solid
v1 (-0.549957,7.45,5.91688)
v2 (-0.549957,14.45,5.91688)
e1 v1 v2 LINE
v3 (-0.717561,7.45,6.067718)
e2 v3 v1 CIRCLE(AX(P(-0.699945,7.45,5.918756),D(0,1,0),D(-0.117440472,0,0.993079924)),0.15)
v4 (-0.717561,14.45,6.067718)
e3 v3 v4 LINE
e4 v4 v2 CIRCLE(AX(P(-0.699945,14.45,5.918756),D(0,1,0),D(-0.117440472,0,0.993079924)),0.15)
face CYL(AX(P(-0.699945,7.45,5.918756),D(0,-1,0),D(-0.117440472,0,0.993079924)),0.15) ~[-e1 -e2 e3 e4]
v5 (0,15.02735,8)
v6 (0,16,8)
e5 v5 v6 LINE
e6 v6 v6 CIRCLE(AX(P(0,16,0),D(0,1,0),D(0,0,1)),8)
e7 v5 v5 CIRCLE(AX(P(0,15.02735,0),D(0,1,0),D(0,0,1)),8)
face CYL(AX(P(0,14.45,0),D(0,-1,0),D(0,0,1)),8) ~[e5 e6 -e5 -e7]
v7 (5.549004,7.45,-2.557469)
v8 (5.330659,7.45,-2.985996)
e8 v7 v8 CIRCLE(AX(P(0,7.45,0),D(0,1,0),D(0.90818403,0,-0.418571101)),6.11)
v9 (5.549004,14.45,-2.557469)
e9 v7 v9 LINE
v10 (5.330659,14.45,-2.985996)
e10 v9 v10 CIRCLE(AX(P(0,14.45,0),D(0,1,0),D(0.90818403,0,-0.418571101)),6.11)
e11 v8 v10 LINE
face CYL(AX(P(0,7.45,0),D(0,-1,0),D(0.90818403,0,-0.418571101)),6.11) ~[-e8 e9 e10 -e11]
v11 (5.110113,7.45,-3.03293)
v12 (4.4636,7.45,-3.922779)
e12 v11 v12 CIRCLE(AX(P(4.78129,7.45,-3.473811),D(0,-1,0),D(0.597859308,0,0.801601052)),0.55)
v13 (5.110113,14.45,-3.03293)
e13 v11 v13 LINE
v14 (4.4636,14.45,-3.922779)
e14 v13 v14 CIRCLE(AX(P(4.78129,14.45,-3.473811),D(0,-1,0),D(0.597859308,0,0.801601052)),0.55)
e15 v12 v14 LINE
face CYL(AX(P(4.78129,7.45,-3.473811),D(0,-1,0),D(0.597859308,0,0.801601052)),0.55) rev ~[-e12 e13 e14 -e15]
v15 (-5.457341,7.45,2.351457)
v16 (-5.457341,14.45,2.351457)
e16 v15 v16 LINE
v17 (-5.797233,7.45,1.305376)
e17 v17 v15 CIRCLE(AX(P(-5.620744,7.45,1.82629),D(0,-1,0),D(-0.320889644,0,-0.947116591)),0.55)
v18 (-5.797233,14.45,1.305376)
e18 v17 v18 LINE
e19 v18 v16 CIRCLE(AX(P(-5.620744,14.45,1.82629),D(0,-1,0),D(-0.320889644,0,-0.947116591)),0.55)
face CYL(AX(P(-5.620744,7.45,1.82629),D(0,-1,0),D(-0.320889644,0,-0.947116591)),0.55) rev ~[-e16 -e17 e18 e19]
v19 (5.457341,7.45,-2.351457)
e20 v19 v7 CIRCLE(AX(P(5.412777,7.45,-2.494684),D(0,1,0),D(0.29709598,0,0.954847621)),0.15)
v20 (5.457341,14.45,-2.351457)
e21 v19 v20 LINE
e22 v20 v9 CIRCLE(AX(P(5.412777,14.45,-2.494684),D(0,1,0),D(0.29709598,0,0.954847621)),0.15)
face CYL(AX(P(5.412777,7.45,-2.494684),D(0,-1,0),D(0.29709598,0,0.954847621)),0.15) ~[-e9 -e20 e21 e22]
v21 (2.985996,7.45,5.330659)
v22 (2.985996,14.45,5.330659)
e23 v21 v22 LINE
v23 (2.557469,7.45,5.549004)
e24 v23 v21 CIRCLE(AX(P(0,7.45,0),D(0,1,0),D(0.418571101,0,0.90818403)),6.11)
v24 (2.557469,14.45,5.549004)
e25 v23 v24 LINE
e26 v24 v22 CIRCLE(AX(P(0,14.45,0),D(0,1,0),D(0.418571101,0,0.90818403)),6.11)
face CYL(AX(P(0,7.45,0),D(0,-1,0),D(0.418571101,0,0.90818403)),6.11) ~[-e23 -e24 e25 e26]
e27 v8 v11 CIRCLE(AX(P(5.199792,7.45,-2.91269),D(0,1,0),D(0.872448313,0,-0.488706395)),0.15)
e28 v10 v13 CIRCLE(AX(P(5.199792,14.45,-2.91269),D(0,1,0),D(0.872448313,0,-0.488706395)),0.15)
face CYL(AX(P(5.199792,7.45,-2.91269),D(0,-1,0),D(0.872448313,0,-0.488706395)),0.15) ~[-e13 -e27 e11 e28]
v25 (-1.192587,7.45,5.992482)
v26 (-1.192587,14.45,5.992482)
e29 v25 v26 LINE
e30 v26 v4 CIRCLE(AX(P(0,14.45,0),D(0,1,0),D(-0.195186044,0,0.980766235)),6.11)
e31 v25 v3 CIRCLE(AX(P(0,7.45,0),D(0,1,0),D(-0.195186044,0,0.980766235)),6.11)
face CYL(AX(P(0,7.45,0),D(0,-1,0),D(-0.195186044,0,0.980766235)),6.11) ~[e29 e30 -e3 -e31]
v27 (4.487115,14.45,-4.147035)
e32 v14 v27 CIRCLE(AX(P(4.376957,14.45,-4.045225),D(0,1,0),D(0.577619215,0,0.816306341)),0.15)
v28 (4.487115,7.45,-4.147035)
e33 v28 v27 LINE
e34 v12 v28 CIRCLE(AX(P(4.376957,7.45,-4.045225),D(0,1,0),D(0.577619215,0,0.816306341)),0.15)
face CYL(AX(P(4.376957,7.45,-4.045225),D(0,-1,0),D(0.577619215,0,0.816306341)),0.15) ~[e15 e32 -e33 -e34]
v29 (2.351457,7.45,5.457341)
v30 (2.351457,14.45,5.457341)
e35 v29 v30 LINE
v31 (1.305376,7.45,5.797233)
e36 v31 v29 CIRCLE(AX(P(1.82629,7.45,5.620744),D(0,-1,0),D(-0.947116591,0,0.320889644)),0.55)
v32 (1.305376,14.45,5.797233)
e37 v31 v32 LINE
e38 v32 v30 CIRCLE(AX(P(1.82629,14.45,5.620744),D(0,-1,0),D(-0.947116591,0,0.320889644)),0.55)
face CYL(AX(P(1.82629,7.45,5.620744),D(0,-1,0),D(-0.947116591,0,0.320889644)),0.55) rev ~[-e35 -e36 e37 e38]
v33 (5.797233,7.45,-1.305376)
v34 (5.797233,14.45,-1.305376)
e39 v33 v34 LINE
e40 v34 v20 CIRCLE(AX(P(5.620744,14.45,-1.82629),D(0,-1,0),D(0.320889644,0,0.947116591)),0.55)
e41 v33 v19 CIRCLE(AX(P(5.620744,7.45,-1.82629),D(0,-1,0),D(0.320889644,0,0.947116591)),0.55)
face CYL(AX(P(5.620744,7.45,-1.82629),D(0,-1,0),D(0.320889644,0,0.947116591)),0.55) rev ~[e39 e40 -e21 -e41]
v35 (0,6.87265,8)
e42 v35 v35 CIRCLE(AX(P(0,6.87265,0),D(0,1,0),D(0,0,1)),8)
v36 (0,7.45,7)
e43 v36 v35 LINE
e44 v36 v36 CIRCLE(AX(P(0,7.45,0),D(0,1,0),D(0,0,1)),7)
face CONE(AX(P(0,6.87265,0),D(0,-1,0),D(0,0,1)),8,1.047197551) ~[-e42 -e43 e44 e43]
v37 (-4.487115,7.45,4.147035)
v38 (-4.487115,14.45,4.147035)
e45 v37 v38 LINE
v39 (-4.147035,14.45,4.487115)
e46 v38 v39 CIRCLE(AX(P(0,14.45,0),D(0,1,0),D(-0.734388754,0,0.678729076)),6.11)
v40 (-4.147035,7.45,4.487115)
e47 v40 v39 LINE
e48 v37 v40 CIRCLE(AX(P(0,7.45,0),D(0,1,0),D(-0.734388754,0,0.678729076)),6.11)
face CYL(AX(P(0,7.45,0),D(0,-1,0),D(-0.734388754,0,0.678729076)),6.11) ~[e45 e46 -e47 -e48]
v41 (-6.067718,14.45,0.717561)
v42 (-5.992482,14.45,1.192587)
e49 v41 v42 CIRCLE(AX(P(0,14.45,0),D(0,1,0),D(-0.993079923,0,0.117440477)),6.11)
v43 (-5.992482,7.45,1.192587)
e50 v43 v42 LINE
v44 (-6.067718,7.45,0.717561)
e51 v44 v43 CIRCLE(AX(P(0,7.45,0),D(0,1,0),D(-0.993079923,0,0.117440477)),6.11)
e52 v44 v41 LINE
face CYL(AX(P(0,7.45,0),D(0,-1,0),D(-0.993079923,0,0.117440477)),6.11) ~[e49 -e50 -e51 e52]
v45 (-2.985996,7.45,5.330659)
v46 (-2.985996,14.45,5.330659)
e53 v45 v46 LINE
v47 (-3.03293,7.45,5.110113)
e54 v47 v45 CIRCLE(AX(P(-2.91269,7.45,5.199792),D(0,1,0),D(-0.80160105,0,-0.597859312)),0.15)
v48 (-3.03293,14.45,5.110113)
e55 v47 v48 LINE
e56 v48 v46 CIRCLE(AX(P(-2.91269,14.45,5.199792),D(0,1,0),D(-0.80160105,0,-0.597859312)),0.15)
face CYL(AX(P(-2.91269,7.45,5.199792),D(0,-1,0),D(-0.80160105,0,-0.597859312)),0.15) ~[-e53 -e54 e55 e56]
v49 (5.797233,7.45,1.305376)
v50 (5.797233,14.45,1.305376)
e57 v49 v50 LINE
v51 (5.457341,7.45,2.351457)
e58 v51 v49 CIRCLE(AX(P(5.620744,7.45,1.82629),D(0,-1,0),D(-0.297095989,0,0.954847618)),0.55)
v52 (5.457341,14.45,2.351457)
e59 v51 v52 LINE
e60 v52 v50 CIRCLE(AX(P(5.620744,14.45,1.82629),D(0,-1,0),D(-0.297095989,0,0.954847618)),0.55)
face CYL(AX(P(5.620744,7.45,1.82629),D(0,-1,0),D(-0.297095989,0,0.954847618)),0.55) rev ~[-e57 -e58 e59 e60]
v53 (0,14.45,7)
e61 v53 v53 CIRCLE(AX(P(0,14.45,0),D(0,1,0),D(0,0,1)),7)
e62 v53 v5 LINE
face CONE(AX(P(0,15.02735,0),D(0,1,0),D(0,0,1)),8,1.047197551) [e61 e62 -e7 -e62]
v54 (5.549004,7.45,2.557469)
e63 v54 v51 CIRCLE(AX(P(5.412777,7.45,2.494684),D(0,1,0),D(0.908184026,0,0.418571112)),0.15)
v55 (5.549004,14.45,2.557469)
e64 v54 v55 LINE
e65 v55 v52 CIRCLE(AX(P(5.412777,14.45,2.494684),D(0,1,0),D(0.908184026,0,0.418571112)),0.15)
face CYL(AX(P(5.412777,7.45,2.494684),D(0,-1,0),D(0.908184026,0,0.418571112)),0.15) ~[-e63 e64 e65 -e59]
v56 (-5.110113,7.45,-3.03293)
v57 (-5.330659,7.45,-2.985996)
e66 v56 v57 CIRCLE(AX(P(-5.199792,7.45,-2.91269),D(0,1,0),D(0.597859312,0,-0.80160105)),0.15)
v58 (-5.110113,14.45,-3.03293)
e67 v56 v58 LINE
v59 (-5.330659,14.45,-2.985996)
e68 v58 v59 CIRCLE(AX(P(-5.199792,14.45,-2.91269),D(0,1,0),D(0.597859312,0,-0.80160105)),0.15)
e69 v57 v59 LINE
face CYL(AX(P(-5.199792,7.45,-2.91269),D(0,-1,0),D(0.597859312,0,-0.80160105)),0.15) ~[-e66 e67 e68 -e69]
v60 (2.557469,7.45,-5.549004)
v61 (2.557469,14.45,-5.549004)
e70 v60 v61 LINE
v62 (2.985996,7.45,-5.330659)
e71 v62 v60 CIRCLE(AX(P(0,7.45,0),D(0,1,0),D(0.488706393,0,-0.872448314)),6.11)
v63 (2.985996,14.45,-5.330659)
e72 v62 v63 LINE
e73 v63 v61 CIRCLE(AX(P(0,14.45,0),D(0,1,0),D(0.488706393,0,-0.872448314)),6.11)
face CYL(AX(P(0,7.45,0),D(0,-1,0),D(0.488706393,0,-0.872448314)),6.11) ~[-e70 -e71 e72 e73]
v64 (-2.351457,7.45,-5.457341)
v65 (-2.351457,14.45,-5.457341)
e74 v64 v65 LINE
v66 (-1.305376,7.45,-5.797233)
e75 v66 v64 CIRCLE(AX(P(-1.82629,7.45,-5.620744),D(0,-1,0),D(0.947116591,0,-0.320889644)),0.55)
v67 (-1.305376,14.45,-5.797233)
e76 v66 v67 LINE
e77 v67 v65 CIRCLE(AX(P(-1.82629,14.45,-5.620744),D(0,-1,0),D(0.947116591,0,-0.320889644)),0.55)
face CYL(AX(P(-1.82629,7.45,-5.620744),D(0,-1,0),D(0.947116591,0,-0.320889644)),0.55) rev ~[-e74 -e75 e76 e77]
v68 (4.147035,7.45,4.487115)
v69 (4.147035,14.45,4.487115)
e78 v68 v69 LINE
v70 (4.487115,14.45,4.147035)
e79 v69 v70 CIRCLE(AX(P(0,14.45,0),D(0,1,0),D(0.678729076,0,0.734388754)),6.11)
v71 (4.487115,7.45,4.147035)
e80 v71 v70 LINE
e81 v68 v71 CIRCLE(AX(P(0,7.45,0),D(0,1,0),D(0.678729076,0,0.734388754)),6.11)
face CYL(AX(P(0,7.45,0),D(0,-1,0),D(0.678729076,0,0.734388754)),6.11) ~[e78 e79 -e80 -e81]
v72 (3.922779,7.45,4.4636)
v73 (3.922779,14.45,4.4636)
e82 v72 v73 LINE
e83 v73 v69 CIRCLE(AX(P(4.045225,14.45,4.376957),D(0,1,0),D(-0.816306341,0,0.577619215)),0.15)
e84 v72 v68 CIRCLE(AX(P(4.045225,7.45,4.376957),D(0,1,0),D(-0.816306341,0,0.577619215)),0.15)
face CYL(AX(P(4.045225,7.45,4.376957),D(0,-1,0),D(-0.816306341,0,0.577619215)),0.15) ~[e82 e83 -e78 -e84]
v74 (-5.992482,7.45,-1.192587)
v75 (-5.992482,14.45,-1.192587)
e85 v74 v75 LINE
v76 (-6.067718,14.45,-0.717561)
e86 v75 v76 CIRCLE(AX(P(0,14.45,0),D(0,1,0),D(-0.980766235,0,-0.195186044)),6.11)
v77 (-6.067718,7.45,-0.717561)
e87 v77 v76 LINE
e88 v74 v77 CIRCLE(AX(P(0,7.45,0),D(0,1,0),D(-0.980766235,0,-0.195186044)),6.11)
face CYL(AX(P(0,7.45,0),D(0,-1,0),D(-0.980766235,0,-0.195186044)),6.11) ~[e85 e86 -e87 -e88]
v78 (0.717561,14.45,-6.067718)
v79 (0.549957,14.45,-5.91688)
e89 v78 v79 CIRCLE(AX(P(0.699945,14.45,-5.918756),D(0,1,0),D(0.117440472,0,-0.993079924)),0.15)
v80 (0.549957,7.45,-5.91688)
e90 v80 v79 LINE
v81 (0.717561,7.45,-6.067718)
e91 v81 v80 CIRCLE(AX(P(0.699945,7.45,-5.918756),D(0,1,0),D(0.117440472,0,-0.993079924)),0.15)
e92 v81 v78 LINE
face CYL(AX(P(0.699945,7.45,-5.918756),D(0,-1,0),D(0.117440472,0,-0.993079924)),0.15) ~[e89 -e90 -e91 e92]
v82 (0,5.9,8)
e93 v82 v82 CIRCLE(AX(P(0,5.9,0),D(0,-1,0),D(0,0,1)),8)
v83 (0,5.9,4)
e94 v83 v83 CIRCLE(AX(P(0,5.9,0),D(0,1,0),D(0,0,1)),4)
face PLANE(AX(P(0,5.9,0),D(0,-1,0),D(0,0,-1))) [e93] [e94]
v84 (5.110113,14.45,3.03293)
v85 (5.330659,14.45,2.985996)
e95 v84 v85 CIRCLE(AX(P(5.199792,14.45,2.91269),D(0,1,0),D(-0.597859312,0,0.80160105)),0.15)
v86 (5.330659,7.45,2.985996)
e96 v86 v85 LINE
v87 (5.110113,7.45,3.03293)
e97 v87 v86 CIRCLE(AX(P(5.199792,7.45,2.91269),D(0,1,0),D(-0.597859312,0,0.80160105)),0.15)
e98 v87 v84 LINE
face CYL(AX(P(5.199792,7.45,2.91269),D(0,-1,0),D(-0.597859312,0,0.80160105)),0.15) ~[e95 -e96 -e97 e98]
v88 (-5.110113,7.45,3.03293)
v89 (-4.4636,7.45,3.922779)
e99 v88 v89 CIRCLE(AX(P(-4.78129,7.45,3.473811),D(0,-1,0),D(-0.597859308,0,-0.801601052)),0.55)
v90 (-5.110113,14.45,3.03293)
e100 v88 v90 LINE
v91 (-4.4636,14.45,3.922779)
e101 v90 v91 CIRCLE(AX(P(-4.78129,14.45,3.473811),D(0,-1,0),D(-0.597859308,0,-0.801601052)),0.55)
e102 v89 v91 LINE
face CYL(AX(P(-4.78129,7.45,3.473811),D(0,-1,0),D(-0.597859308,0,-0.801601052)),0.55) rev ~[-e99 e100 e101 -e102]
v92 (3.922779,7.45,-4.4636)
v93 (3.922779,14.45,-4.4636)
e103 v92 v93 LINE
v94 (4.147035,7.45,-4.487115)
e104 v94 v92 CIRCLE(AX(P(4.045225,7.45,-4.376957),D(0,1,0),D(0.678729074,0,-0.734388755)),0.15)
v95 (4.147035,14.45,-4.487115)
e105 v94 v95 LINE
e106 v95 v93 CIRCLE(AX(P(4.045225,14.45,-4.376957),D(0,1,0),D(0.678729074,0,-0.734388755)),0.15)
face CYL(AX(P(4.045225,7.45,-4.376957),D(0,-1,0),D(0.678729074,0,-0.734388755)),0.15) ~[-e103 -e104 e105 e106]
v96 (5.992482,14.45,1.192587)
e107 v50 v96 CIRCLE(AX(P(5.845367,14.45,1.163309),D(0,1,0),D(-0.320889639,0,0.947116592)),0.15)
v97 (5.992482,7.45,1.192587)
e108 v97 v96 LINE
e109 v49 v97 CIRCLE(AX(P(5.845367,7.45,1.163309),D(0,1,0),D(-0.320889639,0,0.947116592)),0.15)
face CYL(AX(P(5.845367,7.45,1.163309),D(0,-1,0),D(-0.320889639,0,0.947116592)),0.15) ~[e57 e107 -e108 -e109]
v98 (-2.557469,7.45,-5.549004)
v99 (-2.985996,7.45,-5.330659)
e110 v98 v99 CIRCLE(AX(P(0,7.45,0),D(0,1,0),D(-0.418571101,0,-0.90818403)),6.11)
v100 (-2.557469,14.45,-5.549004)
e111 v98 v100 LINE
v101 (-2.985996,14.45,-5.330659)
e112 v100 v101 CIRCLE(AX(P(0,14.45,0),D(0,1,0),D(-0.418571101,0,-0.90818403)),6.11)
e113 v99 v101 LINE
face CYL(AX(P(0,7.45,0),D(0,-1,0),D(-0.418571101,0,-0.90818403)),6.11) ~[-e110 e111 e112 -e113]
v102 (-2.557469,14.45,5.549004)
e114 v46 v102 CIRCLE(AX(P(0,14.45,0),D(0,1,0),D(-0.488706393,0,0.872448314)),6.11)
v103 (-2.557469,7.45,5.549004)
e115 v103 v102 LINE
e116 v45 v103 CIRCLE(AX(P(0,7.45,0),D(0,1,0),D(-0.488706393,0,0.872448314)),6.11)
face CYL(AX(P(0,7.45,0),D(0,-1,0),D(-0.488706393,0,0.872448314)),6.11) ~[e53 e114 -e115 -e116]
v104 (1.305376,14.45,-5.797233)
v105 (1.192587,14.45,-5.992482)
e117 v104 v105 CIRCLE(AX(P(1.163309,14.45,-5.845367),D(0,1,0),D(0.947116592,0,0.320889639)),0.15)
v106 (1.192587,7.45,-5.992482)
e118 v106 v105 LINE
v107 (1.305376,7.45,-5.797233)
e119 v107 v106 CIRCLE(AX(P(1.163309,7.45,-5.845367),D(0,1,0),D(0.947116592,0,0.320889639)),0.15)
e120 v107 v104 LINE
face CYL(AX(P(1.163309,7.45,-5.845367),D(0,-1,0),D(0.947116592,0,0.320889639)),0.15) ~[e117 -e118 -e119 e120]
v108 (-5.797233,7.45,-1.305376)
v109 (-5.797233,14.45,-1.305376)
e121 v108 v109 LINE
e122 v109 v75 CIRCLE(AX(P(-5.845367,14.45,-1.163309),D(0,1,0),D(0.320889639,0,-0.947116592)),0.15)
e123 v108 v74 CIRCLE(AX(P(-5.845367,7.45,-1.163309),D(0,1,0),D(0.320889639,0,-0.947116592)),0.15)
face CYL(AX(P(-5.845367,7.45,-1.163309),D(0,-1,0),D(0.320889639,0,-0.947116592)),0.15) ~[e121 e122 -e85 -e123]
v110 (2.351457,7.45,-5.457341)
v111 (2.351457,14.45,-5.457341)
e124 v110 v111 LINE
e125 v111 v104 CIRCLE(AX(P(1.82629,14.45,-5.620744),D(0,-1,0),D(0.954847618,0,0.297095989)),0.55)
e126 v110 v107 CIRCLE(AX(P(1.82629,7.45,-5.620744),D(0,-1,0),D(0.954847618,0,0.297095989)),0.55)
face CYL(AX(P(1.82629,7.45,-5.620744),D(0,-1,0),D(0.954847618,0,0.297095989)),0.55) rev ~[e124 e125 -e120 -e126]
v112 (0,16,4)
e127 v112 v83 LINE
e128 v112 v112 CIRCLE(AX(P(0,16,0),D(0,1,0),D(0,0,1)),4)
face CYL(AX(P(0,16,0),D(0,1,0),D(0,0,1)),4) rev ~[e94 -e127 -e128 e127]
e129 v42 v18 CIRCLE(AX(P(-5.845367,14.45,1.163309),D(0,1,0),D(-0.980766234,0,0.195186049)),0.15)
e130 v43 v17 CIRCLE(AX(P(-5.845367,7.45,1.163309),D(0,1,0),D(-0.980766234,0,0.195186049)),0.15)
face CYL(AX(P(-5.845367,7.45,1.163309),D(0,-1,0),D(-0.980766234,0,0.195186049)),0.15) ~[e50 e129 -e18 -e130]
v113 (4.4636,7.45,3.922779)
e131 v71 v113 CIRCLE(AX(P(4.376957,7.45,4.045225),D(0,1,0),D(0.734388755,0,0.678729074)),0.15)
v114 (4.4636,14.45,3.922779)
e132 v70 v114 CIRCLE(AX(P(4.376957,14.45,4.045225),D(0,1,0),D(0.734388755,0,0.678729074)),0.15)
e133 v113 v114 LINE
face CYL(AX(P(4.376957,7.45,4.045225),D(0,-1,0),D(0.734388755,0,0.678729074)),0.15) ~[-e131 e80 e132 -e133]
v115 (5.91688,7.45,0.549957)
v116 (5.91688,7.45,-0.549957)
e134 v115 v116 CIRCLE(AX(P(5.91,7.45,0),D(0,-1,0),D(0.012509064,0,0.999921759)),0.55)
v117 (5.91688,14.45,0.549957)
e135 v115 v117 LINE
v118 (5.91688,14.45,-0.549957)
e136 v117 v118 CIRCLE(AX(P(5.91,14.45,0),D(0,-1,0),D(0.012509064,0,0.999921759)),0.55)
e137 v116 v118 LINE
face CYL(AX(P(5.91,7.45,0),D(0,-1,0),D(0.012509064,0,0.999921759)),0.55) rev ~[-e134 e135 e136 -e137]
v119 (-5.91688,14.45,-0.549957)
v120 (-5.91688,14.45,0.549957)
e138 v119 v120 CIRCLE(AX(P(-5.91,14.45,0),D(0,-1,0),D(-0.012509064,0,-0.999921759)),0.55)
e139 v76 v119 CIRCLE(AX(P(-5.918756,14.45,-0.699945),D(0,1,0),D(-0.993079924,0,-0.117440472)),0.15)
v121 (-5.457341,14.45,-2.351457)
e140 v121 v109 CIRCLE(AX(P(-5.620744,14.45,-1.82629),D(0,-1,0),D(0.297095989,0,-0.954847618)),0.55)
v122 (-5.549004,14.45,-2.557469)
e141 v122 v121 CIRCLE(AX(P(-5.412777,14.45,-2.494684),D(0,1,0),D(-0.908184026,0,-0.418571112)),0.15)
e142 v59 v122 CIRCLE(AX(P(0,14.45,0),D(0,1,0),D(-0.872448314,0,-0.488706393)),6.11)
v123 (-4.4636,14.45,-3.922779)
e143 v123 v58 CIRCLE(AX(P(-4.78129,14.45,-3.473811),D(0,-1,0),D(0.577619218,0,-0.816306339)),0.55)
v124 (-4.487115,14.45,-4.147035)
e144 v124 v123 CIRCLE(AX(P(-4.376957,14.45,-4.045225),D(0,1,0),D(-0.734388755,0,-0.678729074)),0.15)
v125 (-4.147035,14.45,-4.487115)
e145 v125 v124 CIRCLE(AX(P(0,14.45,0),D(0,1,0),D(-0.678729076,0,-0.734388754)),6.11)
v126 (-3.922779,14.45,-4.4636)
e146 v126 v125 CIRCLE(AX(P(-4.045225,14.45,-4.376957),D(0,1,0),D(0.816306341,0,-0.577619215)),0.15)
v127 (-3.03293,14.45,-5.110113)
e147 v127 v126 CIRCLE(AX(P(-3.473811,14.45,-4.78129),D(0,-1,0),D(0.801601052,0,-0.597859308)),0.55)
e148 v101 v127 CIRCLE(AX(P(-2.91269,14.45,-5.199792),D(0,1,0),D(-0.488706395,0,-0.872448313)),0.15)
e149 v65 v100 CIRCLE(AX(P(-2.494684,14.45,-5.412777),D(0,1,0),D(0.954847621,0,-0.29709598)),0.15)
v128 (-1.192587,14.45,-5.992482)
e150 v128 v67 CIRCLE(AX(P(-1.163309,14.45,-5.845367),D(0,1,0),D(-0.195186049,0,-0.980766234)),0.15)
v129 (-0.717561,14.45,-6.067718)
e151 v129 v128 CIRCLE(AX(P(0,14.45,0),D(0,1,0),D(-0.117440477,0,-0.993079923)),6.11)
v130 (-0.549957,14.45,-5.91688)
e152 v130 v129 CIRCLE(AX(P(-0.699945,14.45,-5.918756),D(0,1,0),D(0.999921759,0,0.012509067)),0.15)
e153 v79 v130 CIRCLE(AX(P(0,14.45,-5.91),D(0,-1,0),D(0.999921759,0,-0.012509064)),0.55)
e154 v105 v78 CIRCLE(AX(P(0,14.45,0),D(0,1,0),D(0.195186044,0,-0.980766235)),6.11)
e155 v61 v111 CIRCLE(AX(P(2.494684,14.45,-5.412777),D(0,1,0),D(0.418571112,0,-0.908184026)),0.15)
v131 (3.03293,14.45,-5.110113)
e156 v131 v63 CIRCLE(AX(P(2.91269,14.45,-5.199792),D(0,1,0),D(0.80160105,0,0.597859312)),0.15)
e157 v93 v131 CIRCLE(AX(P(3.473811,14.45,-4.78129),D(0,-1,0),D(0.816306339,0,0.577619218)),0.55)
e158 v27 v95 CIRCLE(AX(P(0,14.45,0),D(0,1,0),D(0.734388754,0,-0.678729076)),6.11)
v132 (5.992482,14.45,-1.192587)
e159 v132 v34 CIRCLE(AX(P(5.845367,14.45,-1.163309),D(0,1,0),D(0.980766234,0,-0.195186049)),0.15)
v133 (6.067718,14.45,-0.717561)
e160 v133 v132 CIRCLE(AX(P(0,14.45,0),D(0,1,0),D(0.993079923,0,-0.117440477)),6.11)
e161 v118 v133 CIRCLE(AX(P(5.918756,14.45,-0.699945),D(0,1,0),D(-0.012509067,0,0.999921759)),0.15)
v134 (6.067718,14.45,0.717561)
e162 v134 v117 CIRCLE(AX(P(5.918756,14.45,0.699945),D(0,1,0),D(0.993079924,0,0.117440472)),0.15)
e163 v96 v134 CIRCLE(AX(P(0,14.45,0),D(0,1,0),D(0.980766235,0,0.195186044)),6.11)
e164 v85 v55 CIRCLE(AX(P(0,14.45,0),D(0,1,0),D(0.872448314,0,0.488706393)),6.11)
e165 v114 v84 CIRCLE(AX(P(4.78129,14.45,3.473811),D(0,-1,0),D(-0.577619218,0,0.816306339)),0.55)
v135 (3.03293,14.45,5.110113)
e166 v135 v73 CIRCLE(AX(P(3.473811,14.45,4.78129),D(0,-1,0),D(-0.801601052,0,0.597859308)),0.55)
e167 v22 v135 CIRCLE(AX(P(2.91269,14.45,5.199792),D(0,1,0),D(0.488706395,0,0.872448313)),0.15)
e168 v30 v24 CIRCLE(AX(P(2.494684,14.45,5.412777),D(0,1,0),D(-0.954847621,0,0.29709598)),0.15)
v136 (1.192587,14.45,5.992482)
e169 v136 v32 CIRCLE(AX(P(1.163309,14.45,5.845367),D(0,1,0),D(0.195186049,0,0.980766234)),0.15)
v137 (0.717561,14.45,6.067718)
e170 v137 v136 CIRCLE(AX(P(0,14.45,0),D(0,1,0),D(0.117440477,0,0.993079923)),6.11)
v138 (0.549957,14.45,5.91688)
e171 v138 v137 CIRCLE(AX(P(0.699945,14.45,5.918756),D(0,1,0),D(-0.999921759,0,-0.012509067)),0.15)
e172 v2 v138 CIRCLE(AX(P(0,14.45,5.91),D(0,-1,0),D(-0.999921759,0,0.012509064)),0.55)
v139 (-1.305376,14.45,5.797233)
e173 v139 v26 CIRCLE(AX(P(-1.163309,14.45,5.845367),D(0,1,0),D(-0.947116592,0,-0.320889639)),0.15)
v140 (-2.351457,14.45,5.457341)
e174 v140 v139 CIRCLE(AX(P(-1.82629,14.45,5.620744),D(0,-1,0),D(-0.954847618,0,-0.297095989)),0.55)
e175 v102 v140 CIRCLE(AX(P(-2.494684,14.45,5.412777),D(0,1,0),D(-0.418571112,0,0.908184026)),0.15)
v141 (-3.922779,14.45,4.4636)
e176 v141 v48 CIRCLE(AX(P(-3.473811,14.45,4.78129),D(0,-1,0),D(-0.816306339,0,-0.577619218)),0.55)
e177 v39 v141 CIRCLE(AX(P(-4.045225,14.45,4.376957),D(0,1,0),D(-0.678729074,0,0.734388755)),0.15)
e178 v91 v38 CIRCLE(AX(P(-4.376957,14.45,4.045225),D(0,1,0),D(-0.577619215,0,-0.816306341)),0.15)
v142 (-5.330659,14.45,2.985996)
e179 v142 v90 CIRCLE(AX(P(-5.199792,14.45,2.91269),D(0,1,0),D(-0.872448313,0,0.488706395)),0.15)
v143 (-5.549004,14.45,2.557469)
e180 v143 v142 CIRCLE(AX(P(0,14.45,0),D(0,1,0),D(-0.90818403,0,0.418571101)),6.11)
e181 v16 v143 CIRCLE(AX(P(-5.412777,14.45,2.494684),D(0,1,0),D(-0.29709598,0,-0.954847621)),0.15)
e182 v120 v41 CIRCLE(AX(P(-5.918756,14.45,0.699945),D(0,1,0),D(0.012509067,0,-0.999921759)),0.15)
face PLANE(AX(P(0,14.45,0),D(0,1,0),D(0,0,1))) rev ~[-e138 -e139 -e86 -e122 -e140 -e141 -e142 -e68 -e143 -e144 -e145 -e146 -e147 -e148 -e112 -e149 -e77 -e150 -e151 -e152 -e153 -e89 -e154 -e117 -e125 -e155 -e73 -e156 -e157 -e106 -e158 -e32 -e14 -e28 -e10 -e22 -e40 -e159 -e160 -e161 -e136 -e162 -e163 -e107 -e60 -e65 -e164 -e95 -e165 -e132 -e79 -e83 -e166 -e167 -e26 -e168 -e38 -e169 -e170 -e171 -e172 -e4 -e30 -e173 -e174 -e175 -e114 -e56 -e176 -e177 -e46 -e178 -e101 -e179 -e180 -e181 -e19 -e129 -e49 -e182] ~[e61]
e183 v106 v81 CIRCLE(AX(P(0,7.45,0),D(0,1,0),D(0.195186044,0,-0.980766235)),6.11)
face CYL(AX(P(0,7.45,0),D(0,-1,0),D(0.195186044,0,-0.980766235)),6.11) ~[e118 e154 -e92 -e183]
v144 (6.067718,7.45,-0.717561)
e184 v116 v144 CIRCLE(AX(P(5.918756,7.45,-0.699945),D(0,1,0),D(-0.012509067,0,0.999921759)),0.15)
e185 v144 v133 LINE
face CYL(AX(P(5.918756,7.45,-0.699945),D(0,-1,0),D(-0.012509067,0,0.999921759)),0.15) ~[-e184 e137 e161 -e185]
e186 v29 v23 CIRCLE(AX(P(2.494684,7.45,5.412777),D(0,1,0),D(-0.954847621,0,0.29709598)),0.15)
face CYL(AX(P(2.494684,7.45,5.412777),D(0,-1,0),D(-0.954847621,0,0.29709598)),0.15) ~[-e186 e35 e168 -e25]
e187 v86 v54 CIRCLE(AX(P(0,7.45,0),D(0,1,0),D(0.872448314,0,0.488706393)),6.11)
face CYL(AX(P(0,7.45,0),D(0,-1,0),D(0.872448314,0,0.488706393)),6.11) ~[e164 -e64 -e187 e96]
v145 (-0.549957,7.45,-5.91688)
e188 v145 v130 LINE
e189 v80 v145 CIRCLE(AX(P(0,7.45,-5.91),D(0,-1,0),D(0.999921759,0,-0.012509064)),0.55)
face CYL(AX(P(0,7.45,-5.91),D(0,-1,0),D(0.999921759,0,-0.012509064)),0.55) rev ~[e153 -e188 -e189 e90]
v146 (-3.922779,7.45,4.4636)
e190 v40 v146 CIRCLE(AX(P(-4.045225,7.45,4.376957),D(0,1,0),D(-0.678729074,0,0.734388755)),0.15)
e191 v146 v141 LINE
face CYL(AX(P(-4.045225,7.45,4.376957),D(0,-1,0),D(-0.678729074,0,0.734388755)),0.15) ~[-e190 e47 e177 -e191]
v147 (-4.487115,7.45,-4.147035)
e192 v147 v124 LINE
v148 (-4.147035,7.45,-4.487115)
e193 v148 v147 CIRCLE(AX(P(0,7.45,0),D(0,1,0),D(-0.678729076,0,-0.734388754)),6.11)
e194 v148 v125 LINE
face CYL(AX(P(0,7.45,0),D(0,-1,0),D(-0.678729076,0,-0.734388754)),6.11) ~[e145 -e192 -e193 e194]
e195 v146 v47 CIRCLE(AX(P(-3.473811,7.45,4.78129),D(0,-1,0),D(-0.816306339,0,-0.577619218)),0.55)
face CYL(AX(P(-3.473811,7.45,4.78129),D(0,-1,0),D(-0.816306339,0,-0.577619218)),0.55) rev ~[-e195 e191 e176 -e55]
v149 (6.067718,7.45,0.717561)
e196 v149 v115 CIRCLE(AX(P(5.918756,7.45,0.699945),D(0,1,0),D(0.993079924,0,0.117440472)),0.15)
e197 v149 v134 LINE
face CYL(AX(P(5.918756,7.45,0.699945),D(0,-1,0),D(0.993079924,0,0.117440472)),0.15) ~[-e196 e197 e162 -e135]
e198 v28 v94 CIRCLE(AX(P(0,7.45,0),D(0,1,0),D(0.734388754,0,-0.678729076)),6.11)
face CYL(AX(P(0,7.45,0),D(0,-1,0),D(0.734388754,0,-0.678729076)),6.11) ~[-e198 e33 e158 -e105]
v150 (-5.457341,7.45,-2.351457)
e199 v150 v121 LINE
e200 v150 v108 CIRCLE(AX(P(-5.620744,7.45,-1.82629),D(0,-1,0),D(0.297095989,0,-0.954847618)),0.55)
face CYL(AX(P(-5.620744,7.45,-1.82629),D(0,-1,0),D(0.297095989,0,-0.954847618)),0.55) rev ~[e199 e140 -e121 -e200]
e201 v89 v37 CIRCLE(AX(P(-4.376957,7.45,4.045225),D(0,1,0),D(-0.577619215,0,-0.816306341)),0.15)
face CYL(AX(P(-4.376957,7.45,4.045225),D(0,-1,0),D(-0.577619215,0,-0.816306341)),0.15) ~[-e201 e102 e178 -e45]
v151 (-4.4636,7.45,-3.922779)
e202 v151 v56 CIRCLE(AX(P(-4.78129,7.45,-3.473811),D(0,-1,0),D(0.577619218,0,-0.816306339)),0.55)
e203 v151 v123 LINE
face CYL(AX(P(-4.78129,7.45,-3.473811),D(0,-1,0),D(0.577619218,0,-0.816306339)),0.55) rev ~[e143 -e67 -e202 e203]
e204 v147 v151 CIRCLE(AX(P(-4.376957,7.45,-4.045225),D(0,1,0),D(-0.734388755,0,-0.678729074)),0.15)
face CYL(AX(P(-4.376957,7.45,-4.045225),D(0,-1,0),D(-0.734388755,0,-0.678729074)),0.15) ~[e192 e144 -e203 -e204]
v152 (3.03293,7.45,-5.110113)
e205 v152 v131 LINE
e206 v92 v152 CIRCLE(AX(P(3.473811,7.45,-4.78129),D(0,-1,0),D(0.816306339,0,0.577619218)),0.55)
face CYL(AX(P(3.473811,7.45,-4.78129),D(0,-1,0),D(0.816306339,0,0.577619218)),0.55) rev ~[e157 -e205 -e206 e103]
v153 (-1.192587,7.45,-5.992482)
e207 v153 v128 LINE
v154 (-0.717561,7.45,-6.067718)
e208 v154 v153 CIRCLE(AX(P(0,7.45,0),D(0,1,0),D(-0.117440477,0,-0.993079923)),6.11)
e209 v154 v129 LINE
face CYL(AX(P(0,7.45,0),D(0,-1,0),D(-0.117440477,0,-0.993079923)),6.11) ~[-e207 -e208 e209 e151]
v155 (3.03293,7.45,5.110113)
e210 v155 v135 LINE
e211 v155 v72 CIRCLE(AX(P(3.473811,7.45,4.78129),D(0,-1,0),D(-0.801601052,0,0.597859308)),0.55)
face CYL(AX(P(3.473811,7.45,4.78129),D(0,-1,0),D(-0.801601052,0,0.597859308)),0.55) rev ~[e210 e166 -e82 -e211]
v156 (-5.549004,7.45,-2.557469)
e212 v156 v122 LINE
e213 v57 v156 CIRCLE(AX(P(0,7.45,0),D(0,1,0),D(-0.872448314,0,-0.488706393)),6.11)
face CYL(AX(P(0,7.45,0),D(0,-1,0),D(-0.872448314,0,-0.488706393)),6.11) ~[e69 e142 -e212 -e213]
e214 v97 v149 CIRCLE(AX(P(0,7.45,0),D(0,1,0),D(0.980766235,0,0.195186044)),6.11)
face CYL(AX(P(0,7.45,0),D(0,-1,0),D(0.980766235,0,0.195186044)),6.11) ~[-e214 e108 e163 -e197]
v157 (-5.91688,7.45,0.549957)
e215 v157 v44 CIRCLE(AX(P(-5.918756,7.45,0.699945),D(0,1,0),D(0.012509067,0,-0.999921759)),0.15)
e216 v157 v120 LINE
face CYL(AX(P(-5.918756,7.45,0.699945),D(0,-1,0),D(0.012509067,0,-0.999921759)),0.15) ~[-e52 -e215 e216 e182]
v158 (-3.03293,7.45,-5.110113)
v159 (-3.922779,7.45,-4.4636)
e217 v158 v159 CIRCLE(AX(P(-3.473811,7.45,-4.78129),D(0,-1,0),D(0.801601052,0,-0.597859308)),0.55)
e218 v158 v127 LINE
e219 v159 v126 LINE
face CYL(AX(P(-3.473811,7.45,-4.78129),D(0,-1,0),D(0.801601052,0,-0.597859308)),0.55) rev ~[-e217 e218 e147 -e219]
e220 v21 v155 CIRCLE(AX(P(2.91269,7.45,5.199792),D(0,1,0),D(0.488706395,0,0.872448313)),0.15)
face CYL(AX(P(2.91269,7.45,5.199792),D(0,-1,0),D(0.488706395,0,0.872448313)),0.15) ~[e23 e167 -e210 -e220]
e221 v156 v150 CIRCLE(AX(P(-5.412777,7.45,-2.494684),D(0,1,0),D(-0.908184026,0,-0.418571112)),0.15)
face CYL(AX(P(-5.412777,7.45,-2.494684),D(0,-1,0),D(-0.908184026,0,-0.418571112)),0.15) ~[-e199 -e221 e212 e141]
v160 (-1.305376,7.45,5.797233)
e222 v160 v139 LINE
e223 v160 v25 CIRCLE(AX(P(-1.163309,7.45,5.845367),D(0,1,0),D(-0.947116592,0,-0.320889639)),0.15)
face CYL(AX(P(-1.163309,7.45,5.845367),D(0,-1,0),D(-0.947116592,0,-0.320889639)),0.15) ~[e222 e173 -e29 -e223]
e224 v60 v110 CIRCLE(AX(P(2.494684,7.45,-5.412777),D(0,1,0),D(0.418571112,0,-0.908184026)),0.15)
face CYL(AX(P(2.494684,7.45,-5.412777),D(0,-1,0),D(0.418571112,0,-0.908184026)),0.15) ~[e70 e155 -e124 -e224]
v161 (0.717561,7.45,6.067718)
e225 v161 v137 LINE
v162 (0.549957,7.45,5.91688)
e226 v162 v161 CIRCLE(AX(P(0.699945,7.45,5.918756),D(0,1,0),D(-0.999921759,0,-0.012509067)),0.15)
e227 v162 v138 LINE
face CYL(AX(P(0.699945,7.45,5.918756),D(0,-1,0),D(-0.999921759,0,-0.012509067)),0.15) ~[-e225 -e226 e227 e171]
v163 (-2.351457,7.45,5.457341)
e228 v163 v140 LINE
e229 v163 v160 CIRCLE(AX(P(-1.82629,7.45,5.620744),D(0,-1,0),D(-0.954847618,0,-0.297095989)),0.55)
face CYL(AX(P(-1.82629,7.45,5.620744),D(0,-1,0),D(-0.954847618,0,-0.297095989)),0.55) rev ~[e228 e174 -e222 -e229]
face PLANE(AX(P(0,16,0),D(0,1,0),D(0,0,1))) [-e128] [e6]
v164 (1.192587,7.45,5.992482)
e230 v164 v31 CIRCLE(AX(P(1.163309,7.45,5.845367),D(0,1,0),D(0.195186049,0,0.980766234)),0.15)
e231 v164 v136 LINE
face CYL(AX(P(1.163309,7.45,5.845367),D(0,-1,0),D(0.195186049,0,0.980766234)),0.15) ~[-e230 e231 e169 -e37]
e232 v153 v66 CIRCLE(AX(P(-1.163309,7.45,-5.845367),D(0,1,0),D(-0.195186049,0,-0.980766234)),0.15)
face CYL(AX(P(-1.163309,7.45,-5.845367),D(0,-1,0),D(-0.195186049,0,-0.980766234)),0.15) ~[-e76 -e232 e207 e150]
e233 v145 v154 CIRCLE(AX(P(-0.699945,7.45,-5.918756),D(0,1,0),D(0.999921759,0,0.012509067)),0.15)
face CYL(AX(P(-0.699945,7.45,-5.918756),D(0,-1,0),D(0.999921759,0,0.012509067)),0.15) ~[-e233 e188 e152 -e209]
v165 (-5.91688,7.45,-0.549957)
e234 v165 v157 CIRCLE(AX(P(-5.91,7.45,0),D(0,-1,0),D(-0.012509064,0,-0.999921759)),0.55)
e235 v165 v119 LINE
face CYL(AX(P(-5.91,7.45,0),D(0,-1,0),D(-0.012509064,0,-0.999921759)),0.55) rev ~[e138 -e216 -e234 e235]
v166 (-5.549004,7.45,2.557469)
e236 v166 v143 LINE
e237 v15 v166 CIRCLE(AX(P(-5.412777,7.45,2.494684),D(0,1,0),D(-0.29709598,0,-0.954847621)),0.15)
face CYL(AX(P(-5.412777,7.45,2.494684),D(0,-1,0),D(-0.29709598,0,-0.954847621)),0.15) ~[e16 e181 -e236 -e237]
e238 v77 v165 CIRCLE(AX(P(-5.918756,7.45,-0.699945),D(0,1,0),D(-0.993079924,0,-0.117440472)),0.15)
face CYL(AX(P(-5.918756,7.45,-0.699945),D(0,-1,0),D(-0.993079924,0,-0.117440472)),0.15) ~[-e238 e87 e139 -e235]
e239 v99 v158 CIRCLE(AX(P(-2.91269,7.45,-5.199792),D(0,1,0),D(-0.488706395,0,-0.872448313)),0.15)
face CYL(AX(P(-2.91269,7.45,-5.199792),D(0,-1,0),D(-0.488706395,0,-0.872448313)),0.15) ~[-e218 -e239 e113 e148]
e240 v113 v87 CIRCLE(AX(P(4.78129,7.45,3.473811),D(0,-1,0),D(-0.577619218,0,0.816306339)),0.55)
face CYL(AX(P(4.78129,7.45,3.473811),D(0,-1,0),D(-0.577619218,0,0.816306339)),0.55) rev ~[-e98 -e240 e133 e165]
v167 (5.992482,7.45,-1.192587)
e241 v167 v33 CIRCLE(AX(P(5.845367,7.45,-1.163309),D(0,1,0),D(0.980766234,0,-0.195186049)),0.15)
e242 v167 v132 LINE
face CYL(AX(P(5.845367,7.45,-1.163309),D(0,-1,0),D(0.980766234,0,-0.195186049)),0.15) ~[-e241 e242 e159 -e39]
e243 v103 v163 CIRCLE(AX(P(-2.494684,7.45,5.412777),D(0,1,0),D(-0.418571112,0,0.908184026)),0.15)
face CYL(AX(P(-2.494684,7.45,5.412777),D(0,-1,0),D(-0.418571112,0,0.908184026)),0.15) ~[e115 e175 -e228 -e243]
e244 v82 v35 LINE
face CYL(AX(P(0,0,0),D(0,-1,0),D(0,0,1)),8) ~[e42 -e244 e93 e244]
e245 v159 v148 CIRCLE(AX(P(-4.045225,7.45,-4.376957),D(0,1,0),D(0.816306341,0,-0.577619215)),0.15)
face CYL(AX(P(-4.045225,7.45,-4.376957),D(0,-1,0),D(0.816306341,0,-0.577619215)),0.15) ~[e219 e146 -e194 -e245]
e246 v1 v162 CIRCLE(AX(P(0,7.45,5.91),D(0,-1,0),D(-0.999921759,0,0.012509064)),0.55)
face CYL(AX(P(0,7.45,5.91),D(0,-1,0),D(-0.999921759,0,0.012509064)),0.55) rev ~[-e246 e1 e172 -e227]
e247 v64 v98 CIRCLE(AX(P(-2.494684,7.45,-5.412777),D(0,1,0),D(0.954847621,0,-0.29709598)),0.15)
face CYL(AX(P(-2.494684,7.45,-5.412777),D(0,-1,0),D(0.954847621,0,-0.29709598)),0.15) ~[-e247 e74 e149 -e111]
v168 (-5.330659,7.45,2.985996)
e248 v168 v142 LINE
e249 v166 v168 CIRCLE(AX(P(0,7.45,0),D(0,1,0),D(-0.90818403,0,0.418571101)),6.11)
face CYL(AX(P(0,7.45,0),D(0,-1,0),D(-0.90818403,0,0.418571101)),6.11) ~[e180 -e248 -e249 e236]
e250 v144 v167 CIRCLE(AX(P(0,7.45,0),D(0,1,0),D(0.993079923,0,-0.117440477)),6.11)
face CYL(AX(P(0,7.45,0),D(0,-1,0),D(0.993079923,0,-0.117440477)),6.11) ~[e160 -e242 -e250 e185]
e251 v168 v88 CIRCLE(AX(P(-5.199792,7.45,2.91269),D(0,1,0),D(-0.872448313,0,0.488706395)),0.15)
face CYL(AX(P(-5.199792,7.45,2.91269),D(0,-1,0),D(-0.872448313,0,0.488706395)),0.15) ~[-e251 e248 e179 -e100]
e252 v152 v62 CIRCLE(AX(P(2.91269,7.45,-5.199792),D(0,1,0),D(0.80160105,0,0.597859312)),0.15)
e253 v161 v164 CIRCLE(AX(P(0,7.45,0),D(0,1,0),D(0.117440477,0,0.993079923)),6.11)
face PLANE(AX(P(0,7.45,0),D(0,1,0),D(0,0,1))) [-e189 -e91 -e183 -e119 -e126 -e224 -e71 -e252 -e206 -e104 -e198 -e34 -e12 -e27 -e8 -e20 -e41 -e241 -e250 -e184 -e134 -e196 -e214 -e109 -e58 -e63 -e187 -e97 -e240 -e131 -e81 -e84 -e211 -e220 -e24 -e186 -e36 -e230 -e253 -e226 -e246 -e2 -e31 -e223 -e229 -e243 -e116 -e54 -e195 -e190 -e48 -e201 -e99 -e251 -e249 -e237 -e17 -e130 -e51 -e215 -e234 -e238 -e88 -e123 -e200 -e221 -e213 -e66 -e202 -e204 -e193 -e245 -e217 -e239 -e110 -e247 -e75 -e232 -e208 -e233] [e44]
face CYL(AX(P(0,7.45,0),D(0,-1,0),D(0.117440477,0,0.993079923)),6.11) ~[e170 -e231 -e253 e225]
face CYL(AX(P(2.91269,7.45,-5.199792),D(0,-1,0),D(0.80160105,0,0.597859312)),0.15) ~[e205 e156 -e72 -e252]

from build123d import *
from OCP.BRepFilletAPI import BRepFilletAPI_MakeChamfer

# Parameters (mm, degrees)
SKETCH_1_R               = 8
SKETCH_1_R_2             = 2.5
EXTRUDE_1_DEPTH          = 7.45
SKETCH_2_R               = 2.5
EXTRUDE_2_DEPTH          = 7
SKETCH_3_R               = 8
SKETCH_3_R_2             = 2.5
EXTRUDE_3_DEPTH          = 1.55
CUT_EXTRUDE_1_REACH      = 21.596
CUT_EXTRUDE_1_END_RADIUS = 8
SKETCH_4_R               = 1.25
CUT_EXTRUDE_2_REACH      = 21.596
CUT_EXTRUDE_2_END_RADIUS = 8
SKETCH_5_R               = 1.25
CHAMFER_1_SIZE           = 1
CHAMFER_1_SIZE2          = 0.577350269
ESBO_O1_R                = 8
CORTE_EXTRUS_O1_DEPTH    = 5.9
ESBO_O2_R                = 4
CORTE_EXTRUS_O2_DEPTH    = 10.1


with BuildPart() as part:
    # Эскиз1 → Бобышка-Вытянуть1 (new body)
    with BuildSketch(Plane(origin=(0, 0, 0), x_dir=(1, 0, 0), z_dir=(0, 1, 0))):
        with Locations(Location((0, 0, 0), (0, 0, 270))):
            Circle(SKETCH_1_R)
        with Locations(Location((0, 0, 0), (0, 0, 270))):
            Circle(SKETCH_1_R_2, mode=Mode.SUBTRACT)
    extrude(amount=EXTRUDE_1_DEPTH)

    # Эскиз2 → Бобышка-Вытянуть2 (add)
    with BuildSketch(Plane(origin=(0, 7.45, 0), x_dir=(1, 0, 0), z_dir=(0, 1, 0))):
        with BuildLine():
            ThreePointArc((-2.557469435, 5.549004423), (-2.773881953, 5.444049863), (-2.985996064, 5.3306592))
            ThreePointArc((-2.985996064, 5.3306592), (-3.059404709, 5.231014138), (-3.032930262, 5.110113057))
            ThreePointArc((-3.032930262, 5.110113057), (-3.150528952, 4.33633109), (-3.922779328, 4.463599867))
            ThreePointArc((-3.922779328, 4.463599867), (-4.029582035, 4.526139051), (-4.14703464, 4.487115298))
            ThreePointArc((-4.14703464, 4.487115298), (-4.320422433, 4.320422433), (-4.487115298, 4.14703464))
            ThreePointArc((-4.487115298, 4.14703464), (-4.526139051, 4.029582035), (-4.463599867, 3.922779328))
            ThreePointArc((-4.463599867, 3.922779328), (-4.33633109, 3.150528952), (-5.110113057, 3.032930262))
            ThreePointArc((-5.110113057, 3.032930262), (-5.231014138, 3.059404709), (-5.3306592, 2.985996064))
            ThreePointArc((-5.3306592, 2.985996064), (-5.444049863, 2.773881953), (-5.549004423, 2.557469435))
            ThreePointArc((-5.549004423, 2.557469435), (-5.549823367, 2.433706366), (-5.457341217, 2.351456627))
            ThreePointArc((-5.457341217, 2.351456627), (-5.097662927, 1.65633109), (-5.797233315, 1.305376312))
            ThreePointArc((-5.797233315, 1.305376312), (-5.92039813, 1.293194518), (-5.992481697, 1.19258673))
            ThreePointArc((-5.992481697, 1.19258673), (-6.034775761, 0.955814581), (-6.067718334, 0.717561302))
            ThreePointArc((-6.067718334, 0.717561302), (-6.030252304, 0.599602562), (-5.916879985, 0.549956967))
            ThreePointArc((-5.916879985, 0.549956967), (-5.36, 0), (-5.916879985, -0.549956967))
            ThreePointArc((-5.916879985, -0.549956967), (-6.030252304, -0.599602562), (-6.067718334, -0.717561302))
            ThreePointArc((-6.067718334, -0.717561302), (-6.034775761, -0.955814581), (-5.992481697, -1.19258673))
            ThreePointArc((-5.992481697, -1.19258673), (-5.92039813, -1.293194518), (-5.797233315, -1.305376312))
            ThreePointArc((-5.797233315, -1.305376312), (-5.097662927, -1.65633109), (-5.457341217, -2.351456627))
            ThreePointArc((-5.457341217, -2.351456627), (-5.549823367, -2.433706366), (-5.549004423, -2.557469435))
            ThreePointArc((-5.549004423, -2.557469435), (-5.444049863, -2.773881953), (-5.3306592, -2.985996064))
            ThreePointArc((-5.3306592, -2.985996064), (-5.231014138, -3.059404709), (-5.110113057, -3.032930262))
            ThreePointArc((-5.110113057, -3.032930262), (-4.33633109, -3.150528952), (-4.463599867, -3.922779328))
            ThreePointArc((-4.463599867, -3.922779328), (-4.526139051, -4.029582035), (-4.487115298, -4.14703464))
            ThreePointArc((-4.487115298, -4.14703464), (-4.320422433, -4.320422433), (-4.14703464, -4.487115298))
            ThreePointArc((-4.14703464, -4.487115298), (-4.029582035, -4.526139051), (-3.922779328, -4.463599867))
            ThreePointArc((-3.922779328, -4.463599867), (-3.150528952, -4.33633109), (-3.032930262, -5.110113057))
            ThreePointArc((-3.032930262, -5.110113057), (-3.059404709, -5.231014138), (-2.985996064, -5.3306592))
            ThreePointArc((-2.985996064, -5.3306592), (-2.773881953, -5.444049863), (-2.557469435, -5.549004423))
            ThreePointArc((-2.557469435, -5.549004423), (-2.433706366, -5.549823367), (-2.351456627, -5.457341217))
            ThreePointArc((-2.351456627, -5.457341217), (-1.65633109, -5.097662927), (-1.305376312, -5.797233315))
            ThreePointArc((-1.305376312, -5.797233315), (-1.293194518, -5.92039813), (-1.19258673, -5.992481697))
            ThreePointArc((-1.19258673, -5.992481697), (-0.955814581, -6.034775761), (-0.717561302, -6.067718334))
            ThreePointArc((-0.717561302, -6.067718334), (-0.599602562, -6.030252304), (-0.549956967, -5.916879985))
            ThreePointArc((-0.549956967, -5.916879985), (0, -5.36), (0.549956967, -5.916879985))
            ThreePointArc((0.549956967, -5.916879985), (0.599602562, -6.030252304), (0.717561302, -6.067718334))
            ThreePointArc((0.717561302, -6.067718334), (0.955814581, -6.034775761), (1.19258673, -5.992481697))
            ThreePointArc((1.19258673, -5.992481697), (1.293194518, -5.92039813), (1.305376312, -5.797233315))
            ThreePointArc((1.305376312, -5.797233315), (1.65633109, -5.097662927), (2.351456627, -5.457341217))
            ThreePointArc((2.351456627, -5.457341217), (2.433706366, -5.549823367), (2.557469435, -5.549004423))
            ThreePointArc((2.557469435, -5.549004423), (2.773881953, -5.444049863), (2.985996064, -5.3306592))
            ThreePointArc((2.985996064, -5.3306592), (3.059404709, -5.231014138), (3.032930262, -5.110113057))
            ThreePointArc((3.032930262, -5.110113057), (3.150528952, -4.33633109), (3.922779328, -4.463599867))
            ThreePointArc((3.922779328, -4.463599867), (4.029582035, -4.526139051), (4.14703464, -4.487115298))
            ThreePointArc((4.14703464, -4.487115298), (4.320422433, -4.320422433), (4.487115298, -4.14703464))
            ThreePointArc((4.487115298, -4.14703464), (4.526139051, -4.029582035), (4.463599867, -3.922779328))
            ThreePointArc((4.463599867, -3.922779328), (4.33633109, -3.150528952), (5.110113057, -3.032930262))
            ThreePointArc((5.110113057, -3.032930262), (5.231014138, -3.059404709), (5.3306592, -2.985996064))
            ThreePointArc((5.3306592, -2.985996064), (5.444049863, -2.773881953), (5.549004423, -2.557469435))
            ThreePointArc((5.549004423, -2.557469435), (5.549823367, -2.433706366), (5.457341217, -2.351456627))
            ThreePointArc((5.457341217, -2.351456627), (5.097662927, -1.65633109), (5.797233315, -1.305376312))
            ThreePointArc((5.797233315, -1.305376312), (5.92039813, -1.293194518), (5.992481697, -1.19258673))
            ThreePointArc((5.992481697, -1.19258673), (6.034775761, -0.955814581), (6.067718334, -0.717561302))
            ThreePointArc((6.067718334, -0.717561302), (6.030252304, -0.599602562), (5.916879985, -0.549956967))
            ThreePointArc((5.916879985, -0.549956967), (5.36, 0), (5.916879985, 0.549956967))
            ThreePointArc((5.916879985, 0.549956967), (6.030252304, 0.599602562), (6.067718334, 0.717561302))
            ThreePointArc((6.067718334, 0.717561302), (6.034775761, 0.955814581), (5.992481697, 1.19258673))
            ThreePointArc((5.992481697, 1.19258673), (5.92039813, 1.293194518), (5.797233315, 1.305376312))
            ThreePointArc((5.797233315, 1.305376312), (5.097662927, 1.65633109), (5.457341217, 2.351456627))
            ThreePointArc((5.457341217, 2.351456627), (5.549823367, 2.433706366), (5.549004423, 2.557469435))
            ThreePointArc((5.549004423, 2.557469435), (5.444049863, 2.773881953), (5.3306592, 2.985996064))
            ThreePointArc((5.3306592, 2.985996064), (5.231014138, 3.059404709), (5.110113057, 3.032930262))
            ThreePointArc((5.110113057, 3.032930262), (4.33633109, 3.150528952), (4.463599867, 3.922779328))
            ThreePointArc((4.463599867, 3.922779328), (4.526139051, 4.029582035), (4.487115298, 4.14703464))
            ThreePointArc((4.487115298, 4.14703464), (4.320422433, 4.320422433), (4.14703464, 4.487115298))
            ThreePointArc((4.14703464, 4.487115298), (4.029582035, 4.526139051), (3.922779328, 4.463599867))
            ThreePointArc((3.922779328, 4.463599867), (3.150528952, 4.33633109), (3.032930262, 5.110113057))
            ThreePointArc((3.032930262, 5.110113057), (3.059404709, 5.231014138), (2.985996064, 5.3306592))
            ThreePointArc((2.985996064, 5.3306592), (2.773881953, 5.444049863), (2.557469435, 5.549004423))
            ThreePointArc((2.557469435, 5.549004423), (2.433706366, 5.549823367), (2.351456627, 5.457341217))
            ThreePointArc((2.351456627, 5.457341217), (1.65633109, 5.097662927), (1.305376312, 5.797233315))
            ThreePointArc((1.305376312, 5.797233315), (1.293194518, 5.92039813), (1.19258673, 5.992481697))
            ThreePointArc((1.19258673, 5.992481697), (0.955814581, 6.034775761), (0.717561302, 6.067718334))
            ThreePointArc((0.717561302, 6.067718334), (0.599602562, 6.030252304), (0.549956967, 5.916879985))
            ThreePointArc((0.549956967, 5.916879985), (0, 5.36), (-0.549956967, 5.916879985))
            ThreePointArc((-0.549956967, 5.916879985), (-0.599602562, 6.030252304), (-0.717561302, 6.067718334))
            ThreePointArc((-0.717561302, 6.067718334), (-0.955814581, 6.034775761), (-1.19258673, 5.992481697))
            ThreePointArc((-1.19258673, 5.992481697), (-1.293194518, 5.92039813), (-1.305376312, 5.797233315))
            ThreePointArc((-1.305376312, 5.797233315), (-1.65633109, 5.097662927), (-2.351456627, 5.457341217))
            ThreePointArc((-2.351456627, 5.457341217), (-2.433706366, 5.549823367), (-2.557469435, 5.549004423))
        make_face()
        with Locations(Location((0, 0, 0), (0, 0, 270))):
            Circle(SKETCH_2_R, mode=Mode.SUBTRACT)
    extrude(amount=EXTRUDE_2_DEPTH)

    # Эскиз3 → Бобышка-Вытянуть3 (add)
    with BuildSketch(Plane(origin=(0, 14.45, 0), x_dir=(1, 0, 0), z_dir=(0, 1, 0))):
        with Locations(Location((0, 0, 0), (0, 0, 270))):
            Circle(SKETCH_3_R)
        with Locations(Location((0, 0, 0), (0, 0, 270))):
            Circle(SKETCH_3_R_2, mode=Mode.SUBTRACT)
    extrude(amount=EXTRUDE_3_DEPTH)

    # Вырез-Вытянуть1: up to this cylinder (the profile starts inside it)
    cut_extrude_1_end = Plane(origin=(0, 3.725, 0), z_dir=(0, -1, 0)) * Cylinder(CUT_EXTRUDE_1_END_RADIUS, 60.192, mode=Mode.PRIVATE)
    # Эскиз4 → Вырез-Вытянуть1 (cut, up to the surface)
    with BuildSketch(Plane.XY, mode=Mode.PRIVATE) as cut_extrude_1_sk1:
        with Locations(Location((0, 3.725, 0), (0, 0, 180))):
            Circle(SKETCH_4_R)
    cut_extrude_1_tool1 = extrude(cut_extrude_1_sk1.sketch, amount=CUT_EXTRUDE_1_REACH, mode=Mode.PRIVATE) & cut_extrude_1_end
    add(cut_extrude_1_tool1.solids().sort_by_distance((0, 3.725, 0))[0], mode=Mode.SUBTRACT)

    # Вырез-Вытянуть2: up to this cylinder (the profile starts inside it)
    cut_extrude_2_end = Plane(origin=(0, 3.725, 0), z_dir=(0, -1, 0)) * Cylinder(CUT_EXTRUDE_2_END_RADIUS, 60.192, mode=Mode.PRIVATE)
    # Эскиз5 → Вырез-Вытянуть2 (cut, up to the surface)
    with BuildSketch(Plane(origin=(0, 0, 0), x_dir=(0, 0, -1), z_dir=(1, 0, 0)), mode=Mode.PRIVATE) as cut_extrude_2_sk1:
        with Locations(Location((0, 3.725, 0), (0, 0, 180))):
            Circle(SKETCH_5_R)
    cut_extrude_2_tool1 = extrude(cut_extrude_2_sk1.sketch, amount=CUT_EXTRUDE_2_REACH, mode=Mode.PRIVATE) & cut_extrude_2_end
    add(cut_extrude_2_tool1.solids().sort_by_distance((0, 3.725, 0))[0], mode=Mode.SUBTRACT)

    # Фаска1: one chamfer whose edges measure the first distance from different faces: ONE call of the kernel's chamfer builder (chamfer() names one face for all edges)
    chamfer_1_edges_1 = [part.edges().sort_by_distance(p)[0] for p in [
        (0, 14.45, -8),
    ]]
    chamfer_1_side_1 = [part.faces().sort_by_distance(p)[0] for p in [
        (0, 14.45, -7.77372583),
    ]]
    chamfer_1_edges_2 = [part.edges().sort_by_distance(p)[0] for p in [
        (0, 7.45, -8),
    ]]
    chamfer_1_side_2 = [part.faces().sort_by_distance(p)[0] for p in [
        (0, 7.45, -7.77372583),
    ]]
    chamfer_1 = BRepFilletAPI_MakeChamfer(part.part.solid().wrapped)
    for e in chamfer_1_edges_1:
        chamfer_1.Add(CHAMFER_1_SIZE, CHAMFER_1_SIZE2, e.wrapped, chamfer_1_side_1[0].wrapped)  # the first distance lies on this face
    for e in chamfer_1_edges_2:
        chamfer_1.Add(CHAMFER_1_SIZE, CHAMFER_1_SIZE2, e.wrapped, chamfer_1_side_2[0].wrapped)  # the first distance lies on this face
    add(Compound.cast(chamfer_1.Shape()), mode=Mode.REPLACE)

    # Esboço1 → Corte-extrusão1 (cut)
    with BuildSketch(Plane.XZ):
        with Locations(Location((0, 0, 0), (0, 0, 270))):
            Circle(ESBO_O1_R)
    extrude(amount=-CORTE_EXTRUS_O1_DEPTH, mode=Mode.SUBTRACT)

    # Esboço2 → Corte-extrusão2 (cut)
    with BuildSketch(Plane(origin=(0, 16, 0), x_dir=(1, 0, 0), z_dir=(0, 1, 0))):
        with Locations(Location((0, 0, 0), (0, 0, 270))):
            Circle(ESBO_O2_R)
    extrude(amount=-CORTE_EXTRUS_O2_DEPTH, mode=Mode.SUBTRACT)


solid = part.part
